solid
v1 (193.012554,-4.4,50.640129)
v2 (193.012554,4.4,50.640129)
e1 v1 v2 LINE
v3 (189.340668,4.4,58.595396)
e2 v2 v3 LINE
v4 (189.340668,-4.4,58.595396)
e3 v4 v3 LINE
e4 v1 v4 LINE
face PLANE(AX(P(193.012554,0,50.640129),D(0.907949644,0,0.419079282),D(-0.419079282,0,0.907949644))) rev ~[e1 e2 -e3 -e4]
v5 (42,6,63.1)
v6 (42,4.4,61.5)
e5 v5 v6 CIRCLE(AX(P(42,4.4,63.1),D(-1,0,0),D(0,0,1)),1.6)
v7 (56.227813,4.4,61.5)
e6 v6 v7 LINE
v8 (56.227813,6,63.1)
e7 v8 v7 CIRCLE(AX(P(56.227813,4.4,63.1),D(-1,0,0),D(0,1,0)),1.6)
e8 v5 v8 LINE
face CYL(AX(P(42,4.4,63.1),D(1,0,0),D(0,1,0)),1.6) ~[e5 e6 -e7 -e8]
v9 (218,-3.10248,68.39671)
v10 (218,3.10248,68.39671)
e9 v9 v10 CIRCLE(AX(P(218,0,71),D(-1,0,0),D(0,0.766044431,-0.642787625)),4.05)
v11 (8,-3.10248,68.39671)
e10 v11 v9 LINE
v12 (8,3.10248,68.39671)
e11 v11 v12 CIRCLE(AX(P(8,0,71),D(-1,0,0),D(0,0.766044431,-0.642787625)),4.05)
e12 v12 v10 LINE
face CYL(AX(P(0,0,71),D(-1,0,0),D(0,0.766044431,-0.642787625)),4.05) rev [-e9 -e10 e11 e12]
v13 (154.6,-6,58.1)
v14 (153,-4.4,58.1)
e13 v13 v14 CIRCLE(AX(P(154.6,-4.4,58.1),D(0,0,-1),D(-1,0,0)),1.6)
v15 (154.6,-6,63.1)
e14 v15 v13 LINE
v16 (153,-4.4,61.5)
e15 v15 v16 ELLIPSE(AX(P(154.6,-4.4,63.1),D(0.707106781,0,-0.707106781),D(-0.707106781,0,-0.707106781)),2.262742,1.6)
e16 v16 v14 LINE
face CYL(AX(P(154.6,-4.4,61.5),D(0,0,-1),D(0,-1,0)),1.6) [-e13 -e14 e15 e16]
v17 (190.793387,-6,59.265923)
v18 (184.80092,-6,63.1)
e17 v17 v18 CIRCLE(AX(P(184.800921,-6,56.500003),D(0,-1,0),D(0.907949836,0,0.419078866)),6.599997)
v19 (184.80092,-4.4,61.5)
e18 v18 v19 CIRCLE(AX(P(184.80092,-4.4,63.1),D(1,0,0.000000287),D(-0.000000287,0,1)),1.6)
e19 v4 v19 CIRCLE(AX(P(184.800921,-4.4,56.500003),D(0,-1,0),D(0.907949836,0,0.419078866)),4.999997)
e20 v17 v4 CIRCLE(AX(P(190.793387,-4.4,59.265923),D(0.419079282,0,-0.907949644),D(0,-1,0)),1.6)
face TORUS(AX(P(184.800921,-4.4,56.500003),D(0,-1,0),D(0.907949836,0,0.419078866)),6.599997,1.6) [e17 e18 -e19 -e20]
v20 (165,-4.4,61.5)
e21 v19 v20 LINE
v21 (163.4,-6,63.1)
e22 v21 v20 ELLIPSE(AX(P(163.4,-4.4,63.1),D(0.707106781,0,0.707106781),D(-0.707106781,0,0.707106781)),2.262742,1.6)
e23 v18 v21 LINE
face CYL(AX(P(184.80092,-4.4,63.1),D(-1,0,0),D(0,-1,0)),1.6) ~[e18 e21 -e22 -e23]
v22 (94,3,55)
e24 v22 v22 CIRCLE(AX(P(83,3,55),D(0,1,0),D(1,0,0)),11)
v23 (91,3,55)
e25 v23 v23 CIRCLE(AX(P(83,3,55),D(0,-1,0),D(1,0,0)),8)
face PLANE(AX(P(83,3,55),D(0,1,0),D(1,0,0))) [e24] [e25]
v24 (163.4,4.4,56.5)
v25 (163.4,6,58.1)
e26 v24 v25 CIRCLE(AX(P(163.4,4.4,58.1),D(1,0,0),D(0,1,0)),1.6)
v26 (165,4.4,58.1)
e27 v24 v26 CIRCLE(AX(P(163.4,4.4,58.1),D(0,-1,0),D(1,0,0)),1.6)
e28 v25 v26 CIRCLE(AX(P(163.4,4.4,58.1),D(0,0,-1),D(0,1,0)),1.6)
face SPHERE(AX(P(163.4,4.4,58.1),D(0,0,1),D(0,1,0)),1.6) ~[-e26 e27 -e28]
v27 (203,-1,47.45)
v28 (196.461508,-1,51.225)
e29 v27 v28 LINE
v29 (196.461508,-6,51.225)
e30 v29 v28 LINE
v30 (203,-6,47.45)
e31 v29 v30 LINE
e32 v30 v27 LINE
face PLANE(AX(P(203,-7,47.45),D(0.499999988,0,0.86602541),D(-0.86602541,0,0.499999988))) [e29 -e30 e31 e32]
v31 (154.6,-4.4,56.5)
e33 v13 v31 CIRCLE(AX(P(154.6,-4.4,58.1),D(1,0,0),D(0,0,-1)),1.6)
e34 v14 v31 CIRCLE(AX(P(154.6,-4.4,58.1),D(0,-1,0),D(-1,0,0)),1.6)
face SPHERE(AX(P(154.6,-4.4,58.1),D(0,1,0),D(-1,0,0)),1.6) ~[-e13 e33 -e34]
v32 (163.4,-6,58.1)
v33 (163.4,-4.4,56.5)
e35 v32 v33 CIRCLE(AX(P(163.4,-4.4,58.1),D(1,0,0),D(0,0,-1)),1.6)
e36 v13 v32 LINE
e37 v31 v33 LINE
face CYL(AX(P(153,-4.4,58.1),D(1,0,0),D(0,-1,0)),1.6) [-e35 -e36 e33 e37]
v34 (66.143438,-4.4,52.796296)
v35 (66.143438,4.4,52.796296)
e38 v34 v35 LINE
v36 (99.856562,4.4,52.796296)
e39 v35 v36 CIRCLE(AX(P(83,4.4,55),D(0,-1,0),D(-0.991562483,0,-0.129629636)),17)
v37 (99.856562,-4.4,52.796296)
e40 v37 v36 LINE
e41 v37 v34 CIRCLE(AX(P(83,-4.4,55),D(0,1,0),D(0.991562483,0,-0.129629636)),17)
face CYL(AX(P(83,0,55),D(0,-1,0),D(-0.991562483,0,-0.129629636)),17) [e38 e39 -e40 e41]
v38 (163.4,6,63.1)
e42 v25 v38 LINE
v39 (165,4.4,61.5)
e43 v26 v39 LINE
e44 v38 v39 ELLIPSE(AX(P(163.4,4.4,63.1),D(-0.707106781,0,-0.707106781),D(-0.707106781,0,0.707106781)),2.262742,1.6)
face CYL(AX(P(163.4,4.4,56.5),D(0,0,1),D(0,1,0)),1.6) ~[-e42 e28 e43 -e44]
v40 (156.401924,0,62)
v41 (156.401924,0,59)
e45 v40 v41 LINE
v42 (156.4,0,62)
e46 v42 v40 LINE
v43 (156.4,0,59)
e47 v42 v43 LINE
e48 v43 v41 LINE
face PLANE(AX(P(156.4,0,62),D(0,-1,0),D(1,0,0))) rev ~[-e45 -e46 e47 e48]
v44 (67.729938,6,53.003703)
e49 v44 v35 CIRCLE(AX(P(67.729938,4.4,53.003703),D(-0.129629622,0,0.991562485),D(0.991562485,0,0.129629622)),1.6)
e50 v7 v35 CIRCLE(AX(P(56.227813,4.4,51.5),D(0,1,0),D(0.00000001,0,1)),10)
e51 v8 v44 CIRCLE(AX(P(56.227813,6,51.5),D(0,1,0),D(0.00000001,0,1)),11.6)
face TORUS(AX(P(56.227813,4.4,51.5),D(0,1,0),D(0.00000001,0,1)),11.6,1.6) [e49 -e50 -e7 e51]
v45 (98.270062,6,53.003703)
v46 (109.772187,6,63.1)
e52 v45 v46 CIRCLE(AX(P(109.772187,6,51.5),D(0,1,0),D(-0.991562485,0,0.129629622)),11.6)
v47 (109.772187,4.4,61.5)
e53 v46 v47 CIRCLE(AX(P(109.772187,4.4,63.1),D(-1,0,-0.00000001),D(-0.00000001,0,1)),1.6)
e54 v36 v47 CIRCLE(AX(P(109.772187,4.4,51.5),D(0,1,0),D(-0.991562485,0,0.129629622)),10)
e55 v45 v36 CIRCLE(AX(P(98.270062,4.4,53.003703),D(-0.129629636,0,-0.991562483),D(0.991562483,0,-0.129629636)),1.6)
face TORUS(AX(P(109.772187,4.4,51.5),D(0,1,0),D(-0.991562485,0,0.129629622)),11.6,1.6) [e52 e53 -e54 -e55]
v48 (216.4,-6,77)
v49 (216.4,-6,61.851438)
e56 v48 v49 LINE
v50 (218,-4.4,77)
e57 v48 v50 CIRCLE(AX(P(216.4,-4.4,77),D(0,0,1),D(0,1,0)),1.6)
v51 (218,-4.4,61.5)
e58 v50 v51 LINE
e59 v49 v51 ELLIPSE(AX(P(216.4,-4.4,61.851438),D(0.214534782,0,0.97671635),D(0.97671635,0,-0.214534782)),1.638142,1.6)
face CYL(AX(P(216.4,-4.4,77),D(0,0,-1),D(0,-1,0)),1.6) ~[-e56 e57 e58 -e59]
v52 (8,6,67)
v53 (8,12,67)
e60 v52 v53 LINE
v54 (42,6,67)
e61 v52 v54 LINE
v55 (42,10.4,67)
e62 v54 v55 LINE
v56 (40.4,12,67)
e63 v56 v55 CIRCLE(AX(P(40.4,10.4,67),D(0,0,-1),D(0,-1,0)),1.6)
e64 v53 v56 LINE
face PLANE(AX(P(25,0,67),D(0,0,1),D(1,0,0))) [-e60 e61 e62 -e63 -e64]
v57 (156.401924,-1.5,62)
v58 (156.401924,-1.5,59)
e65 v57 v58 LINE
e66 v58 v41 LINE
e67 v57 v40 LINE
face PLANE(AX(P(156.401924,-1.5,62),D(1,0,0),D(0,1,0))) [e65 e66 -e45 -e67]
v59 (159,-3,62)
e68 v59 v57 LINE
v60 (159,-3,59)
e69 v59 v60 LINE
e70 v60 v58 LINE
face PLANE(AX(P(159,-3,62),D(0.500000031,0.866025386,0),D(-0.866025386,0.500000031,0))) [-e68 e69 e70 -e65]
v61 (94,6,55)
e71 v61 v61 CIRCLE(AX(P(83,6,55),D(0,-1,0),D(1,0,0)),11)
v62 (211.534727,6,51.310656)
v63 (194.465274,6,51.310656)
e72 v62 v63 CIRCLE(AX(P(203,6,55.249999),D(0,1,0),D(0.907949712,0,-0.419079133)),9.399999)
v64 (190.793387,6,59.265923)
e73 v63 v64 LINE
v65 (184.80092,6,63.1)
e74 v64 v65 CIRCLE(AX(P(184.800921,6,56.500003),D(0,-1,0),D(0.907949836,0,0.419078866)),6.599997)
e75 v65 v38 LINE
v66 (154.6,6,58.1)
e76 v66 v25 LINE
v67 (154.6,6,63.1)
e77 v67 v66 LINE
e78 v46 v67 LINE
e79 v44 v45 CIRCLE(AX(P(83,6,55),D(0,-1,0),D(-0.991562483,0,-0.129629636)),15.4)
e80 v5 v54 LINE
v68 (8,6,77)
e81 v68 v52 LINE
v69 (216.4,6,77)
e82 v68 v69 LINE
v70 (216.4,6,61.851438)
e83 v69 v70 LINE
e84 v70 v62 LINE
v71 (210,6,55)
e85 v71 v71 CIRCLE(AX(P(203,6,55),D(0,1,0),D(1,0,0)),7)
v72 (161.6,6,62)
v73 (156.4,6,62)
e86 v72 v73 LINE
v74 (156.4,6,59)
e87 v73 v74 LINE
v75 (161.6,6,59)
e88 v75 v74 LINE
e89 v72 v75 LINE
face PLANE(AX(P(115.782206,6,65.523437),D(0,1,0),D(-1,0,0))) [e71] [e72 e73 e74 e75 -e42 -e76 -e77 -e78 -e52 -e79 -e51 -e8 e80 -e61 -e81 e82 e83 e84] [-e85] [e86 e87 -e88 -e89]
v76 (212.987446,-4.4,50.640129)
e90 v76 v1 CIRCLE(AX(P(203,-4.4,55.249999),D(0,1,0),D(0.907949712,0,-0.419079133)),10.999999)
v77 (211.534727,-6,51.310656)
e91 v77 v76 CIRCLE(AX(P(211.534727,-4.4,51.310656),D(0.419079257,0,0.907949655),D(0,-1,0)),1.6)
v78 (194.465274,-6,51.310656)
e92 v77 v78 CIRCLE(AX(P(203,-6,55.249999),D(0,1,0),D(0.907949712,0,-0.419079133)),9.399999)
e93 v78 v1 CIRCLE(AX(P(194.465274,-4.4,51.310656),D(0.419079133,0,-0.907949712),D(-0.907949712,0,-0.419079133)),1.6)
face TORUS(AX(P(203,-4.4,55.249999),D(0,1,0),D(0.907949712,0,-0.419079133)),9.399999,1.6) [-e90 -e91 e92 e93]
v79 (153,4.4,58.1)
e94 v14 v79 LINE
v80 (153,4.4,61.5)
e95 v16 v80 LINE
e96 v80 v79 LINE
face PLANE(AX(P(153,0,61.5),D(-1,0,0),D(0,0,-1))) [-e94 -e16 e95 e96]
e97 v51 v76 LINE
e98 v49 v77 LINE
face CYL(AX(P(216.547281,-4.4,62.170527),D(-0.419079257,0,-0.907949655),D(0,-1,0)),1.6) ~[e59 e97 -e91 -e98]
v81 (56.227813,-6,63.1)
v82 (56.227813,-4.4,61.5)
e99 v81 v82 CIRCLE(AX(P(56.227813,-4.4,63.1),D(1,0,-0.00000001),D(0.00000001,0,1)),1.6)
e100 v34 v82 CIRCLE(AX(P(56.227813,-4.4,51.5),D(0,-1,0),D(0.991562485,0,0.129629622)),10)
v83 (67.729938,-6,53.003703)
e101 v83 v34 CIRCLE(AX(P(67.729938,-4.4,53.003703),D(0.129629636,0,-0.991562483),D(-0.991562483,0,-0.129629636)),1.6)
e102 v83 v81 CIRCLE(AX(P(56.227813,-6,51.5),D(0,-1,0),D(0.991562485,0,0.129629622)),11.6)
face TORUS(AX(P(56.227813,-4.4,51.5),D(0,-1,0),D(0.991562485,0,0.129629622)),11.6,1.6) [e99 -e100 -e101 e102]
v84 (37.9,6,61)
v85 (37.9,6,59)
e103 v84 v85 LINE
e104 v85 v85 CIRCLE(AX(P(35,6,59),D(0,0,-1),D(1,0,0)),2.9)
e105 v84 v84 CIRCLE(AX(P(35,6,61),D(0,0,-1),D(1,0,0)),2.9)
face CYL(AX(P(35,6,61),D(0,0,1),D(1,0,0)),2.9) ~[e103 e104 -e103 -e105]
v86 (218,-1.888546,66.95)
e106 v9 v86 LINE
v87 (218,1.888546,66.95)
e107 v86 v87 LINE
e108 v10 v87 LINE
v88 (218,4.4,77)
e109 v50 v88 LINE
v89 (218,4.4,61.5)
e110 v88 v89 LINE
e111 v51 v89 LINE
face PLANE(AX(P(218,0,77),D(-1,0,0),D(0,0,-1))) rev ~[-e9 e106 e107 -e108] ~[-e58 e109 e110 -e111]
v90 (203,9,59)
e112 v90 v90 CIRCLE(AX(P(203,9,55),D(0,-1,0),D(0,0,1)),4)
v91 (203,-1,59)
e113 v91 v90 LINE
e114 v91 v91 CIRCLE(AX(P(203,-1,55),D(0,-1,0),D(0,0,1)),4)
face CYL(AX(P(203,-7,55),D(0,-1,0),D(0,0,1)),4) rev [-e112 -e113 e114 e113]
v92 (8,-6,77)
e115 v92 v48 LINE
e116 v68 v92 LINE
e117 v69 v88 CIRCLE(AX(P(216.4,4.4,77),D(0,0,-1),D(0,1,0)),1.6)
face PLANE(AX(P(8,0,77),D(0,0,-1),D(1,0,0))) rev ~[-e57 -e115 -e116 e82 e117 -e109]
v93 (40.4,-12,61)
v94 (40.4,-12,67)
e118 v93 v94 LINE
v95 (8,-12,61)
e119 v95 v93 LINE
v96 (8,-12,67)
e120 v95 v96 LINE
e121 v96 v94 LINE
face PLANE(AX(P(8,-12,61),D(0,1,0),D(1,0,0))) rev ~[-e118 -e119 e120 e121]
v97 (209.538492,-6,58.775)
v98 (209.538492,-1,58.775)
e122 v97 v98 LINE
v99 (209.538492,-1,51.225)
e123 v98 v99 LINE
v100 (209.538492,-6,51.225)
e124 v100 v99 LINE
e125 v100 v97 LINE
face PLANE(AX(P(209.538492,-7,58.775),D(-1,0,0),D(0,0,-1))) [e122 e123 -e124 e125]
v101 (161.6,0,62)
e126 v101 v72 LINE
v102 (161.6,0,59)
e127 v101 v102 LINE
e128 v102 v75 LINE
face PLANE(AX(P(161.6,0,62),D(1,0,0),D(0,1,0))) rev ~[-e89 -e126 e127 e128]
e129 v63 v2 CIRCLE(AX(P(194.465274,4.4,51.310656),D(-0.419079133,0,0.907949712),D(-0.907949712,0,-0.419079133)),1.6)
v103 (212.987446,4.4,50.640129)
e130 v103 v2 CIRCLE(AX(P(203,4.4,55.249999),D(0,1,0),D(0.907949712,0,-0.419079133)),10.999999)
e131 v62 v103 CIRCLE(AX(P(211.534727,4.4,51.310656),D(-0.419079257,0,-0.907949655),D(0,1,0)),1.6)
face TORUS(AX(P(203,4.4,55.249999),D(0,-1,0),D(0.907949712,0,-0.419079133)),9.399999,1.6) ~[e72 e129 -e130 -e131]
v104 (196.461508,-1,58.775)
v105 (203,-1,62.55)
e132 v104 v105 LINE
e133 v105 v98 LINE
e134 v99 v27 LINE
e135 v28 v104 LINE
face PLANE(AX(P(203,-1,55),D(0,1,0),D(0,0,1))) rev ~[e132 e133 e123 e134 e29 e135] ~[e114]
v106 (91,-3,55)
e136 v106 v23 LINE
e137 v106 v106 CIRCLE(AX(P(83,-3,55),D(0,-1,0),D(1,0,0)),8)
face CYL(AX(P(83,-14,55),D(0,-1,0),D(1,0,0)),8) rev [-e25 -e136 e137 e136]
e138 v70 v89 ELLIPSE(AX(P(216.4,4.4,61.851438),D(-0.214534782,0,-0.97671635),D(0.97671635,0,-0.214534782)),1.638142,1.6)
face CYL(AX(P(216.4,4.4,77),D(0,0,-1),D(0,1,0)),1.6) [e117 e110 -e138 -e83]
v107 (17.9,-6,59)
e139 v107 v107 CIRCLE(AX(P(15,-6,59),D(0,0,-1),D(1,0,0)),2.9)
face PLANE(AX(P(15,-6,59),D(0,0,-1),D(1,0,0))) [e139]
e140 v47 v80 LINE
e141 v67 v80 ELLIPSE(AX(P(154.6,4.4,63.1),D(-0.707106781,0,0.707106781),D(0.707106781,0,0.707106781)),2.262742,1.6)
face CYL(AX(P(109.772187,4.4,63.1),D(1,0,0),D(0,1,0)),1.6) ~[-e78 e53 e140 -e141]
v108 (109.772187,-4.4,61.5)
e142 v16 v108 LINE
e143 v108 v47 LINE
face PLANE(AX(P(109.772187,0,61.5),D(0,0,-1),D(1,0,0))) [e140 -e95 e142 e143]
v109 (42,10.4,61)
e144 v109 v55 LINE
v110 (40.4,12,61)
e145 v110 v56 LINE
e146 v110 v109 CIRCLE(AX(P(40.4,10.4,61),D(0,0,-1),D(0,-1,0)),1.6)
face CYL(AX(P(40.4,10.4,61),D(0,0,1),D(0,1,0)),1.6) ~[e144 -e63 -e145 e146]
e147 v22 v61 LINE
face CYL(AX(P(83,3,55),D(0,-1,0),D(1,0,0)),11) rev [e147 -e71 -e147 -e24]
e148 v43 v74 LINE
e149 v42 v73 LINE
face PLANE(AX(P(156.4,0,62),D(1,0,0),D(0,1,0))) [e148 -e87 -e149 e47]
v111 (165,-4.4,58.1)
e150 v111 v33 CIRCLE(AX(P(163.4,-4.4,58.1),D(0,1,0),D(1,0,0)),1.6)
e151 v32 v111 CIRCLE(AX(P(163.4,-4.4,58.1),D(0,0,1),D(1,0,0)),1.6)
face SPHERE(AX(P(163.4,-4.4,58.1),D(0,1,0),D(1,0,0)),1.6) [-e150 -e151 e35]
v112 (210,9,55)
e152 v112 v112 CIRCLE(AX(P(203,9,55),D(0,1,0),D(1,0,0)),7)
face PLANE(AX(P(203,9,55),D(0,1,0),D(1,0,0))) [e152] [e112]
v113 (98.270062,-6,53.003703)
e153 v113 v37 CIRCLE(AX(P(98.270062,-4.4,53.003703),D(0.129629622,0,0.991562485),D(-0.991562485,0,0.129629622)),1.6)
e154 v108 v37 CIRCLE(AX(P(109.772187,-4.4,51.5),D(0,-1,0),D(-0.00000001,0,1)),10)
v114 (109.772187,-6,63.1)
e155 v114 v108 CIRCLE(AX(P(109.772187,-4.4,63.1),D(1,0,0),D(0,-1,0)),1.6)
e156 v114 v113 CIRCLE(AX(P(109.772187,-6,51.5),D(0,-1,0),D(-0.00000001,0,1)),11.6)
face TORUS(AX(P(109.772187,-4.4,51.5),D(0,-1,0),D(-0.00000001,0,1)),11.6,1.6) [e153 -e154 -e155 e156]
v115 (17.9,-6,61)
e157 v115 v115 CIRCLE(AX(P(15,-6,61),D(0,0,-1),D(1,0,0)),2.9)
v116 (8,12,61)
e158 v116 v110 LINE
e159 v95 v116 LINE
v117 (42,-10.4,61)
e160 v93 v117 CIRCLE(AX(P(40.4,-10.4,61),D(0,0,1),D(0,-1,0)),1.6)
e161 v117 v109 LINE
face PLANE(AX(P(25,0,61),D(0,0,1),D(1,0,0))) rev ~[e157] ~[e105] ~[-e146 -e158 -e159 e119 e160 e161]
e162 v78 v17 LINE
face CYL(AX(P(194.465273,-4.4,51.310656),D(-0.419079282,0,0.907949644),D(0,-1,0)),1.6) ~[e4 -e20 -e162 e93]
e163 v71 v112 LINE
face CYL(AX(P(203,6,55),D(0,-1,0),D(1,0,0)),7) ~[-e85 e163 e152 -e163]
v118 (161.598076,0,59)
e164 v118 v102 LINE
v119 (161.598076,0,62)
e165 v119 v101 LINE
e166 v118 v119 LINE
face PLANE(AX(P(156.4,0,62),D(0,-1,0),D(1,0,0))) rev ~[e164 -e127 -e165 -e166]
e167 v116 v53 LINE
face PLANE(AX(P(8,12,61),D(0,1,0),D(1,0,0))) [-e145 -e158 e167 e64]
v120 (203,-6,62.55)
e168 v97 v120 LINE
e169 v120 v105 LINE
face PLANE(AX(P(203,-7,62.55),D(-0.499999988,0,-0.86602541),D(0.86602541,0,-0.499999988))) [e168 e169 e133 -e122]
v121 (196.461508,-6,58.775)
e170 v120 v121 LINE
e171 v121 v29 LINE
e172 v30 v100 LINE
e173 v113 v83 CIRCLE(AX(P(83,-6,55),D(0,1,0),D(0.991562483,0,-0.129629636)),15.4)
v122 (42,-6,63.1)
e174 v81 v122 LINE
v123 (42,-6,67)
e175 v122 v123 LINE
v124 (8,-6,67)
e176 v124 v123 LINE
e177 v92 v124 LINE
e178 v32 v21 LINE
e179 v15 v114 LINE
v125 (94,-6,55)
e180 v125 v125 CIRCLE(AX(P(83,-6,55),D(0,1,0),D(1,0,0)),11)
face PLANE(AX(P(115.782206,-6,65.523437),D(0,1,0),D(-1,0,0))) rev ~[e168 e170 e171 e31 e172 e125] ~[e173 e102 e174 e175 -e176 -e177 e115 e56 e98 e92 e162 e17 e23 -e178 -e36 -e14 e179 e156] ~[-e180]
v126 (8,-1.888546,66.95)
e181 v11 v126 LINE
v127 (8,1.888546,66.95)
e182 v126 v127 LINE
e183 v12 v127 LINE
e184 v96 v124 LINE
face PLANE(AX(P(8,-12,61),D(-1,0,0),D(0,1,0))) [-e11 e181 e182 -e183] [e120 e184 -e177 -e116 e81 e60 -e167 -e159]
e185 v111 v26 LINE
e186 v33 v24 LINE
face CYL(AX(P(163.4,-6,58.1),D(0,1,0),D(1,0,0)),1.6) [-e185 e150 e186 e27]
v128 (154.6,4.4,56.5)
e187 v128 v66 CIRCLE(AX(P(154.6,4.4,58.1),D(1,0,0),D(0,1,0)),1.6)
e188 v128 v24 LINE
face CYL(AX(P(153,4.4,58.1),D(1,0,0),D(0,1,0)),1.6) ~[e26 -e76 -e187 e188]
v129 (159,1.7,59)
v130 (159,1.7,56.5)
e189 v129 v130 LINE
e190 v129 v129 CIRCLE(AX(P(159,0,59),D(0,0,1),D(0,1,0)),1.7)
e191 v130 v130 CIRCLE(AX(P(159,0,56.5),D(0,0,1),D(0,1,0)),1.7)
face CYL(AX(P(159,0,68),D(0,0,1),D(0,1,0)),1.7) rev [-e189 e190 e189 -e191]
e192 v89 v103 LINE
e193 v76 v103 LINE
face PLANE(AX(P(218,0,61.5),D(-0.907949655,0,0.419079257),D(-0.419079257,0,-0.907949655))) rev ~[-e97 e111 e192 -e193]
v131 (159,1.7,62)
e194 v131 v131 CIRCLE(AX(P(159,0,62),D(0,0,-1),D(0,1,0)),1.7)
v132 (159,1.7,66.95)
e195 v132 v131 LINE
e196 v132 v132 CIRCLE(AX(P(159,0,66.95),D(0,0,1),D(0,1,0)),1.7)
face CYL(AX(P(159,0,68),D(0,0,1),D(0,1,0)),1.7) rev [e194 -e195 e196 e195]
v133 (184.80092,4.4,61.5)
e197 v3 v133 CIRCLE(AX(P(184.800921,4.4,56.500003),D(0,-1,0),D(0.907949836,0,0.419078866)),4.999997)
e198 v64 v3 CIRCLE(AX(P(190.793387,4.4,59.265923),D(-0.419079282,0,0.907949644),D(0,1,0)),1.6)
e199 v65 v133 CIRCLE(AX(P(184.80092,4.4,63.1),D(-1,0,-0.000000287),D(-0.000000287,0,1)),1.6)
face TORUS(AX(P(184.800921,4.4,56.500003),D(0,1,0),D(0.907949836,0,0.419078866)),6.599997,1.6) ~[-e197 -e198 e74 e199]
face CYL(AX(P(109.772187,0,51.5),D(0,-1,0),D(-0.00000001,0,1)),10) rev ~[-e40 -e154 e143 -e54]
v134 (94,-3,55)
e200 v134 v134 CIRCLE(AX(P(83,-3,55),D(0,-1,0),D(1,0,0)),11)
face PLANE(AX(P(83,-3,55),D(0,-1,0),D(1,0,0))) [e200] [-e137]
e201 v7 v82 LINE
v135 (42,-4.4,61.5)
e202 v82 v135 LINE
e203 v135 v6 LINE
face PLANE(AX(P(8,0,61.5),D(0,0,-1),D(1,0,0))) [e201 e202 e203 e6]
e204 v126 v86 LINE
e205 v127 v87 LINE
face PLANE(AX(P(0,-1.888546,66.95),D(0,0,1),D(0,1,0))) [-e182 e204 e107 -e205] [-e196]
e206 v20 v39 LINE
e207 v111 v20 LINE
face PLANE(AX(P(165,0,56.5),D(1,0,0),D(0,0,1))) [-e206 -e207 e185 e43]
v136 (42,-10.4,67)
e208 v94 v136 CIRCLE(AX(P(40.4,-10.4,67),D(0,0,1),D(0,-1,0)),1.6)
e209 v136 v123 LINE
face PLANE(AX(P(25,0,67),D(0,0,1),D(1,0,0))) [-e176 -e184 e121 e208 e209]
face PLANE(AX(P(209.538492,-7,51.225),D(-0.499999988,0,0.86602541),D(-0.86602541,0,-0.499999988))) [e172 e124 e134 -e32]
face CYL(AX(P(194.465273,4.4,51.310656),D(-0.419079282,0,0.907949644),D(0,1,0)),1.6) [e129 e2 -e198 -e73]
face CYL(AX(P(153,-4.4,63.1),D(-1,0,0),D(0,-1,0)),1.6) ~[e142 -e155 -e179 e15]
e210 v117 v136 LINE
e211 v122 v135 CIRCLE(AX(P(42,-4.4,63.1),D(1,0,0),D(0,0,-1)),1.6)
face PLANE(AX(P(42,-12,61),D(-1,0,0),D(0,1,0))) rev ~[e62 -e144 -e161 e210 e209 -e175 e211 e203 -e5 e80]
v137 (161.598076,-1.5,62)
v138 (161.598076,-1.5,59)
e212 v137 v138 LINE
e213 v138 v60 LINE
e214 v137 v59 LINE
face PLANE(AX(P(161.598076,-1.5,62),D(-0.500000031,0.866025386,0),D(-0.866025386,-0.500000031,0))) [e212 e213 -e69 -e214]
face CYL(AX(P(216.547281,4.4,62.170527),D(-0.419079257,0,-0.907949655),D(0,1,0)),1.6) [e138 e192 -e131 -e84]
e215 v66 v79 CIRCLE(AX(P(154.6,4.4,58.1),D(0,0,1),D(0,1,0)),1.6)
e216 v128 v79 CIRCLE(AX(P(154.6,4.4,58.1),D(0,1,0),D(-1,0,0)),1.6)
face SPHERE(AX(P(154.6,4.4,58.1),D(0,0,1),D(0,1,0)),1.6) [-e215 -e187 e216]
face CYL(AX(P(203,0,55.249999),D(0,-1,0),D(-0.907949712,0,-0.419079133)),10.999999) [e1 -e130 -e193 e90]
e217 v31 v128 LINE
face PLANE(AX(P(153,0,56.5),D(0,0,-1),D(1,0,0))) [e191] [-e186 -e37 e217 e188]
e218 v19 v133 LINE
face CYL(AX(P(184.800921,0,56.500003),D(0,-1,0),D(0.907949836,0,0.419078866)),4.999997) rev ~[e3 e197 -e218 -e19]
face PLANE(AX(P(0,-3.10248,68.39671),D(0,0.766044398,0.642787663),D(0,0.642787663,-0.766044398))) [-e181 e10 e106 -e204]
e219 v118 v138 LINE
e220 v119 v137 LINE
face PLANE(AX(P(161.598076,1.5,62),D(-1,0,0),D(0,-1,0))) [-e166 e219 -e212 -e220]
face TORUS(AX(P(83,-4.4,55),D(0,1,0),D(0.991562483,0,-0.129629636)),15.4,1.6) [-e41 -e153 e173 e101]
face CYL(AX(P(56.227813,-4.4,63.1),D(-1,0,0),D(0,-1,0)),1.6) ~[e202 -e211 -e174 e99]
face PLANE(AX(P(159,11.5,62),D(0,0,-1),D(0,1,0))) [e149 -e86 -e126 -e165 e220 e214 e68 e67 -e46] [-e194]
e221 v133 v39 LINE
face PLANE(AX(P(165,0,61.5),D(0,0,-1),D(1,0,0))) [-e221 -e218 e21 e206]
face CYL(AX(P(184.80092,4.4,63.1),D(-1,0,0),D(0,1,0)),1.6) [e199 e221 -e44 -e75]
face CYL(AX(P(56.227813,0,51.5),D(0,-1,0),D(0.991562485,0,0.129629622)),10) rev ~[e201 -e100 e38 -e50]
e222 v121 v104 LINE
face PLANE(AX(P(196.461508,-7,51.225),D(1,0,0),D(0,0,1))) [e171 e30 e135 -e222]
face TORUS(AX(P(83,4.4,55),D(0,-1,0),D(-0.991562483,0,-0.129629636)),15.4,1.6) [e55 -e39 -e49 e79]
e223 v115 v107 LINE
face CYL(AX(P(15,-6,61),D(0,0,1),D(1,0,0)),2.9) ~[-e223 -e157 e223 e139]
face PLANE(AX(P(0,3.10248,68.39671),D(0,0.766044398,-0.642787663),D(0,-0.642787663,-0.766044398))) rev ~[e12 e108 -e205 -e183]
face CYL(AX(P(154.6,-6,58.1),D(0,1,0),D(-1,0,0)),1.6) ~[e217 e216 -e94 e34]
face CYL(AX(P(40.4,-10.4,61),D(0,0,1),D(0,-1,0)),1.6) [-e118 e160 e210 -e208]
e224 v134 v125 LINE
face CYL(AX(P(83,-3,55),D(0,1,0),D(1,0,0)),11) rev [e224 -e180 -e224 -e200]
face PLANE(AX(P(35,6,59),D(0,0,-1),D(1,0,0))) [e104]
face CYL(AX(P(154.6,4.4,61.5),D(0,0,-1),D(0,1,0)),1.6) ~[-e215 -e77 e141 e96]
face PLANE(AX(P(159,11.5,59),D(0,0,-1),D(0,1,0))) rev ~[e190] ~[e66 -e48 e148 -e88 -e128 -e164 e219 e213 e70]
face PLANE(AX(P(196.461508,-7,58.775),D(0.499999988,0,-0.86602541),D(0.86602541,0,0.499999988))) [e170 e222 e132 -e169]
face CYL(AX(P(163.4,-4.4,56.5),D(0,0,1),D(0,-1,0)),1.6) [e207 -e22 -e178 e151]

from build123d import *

# Parameters (mm, degrees)
CYLINDER074_R             = 11
CYLINDER074_DEPTH         = 10
CYLINDER075_R             = 8
CYLINDER075_DEPTH         = 28
CYLINDER076_R             = 11
CYLINDER076_DEPTH         = 10
CYLINDER083_R             = 1.7
CYLINDER083_DEPTH         = 21
BOX019_W                  = 23
BOX019_H                  = 5.2
BOX019_DEPTH              = 3
PRISM012_DEPTH            = 3
FUSION068_ROLL_ANGLE      = 180
FUSION068_PLACEMENT_ANGLE = 90
EXTRUDE034_DEPTH          = 275
CYLINDER085_R             = 4
CYLINDER085_DEPTH         = 70
PRISM013_DEPTH            = 6
FUSION069_PITCH_ANGLE     = -90
FUSION069_PLACEMENT_ANGLE = -90
CYLINDER073_R             = 11
CYLINDER073_DEPTH         = 10
BOX018_W                  = 34
BOX018_H                  = 24
BOX018_DEPTH              = 6
CYLINDER081_R             = 2.9
CYLINDER081_DEPTH         = 2
CYLINDER082_R             = 2.9
CYLINDER082_DEPTH         = 2
CYLINDER084_R             = 7
CYLINDER084_DEPTH         = 3
EXTRUDE032_DEPTH          = 6
FILLET005_R               = 1.6


with BuildPart() as cilindro074:
    # Cylinder074 → Cylinder074 (new body)
    with BuildSketch(Plane(origin=(83, 3, 55), x_dir=(1, 0, 0), z_dir=(0, 1, 0))):
        Circle(CYLINDER074_R)
    extrude(amount=CYLINDER074_DEPTH)


with BuildPart() as cilindro075:
    # Cylinder075 → Cylinder075 (new body)
    with BuildSketch(Plane(origin=(83, -14, 55), x_dir=(1, 0, 0), z_dir=(0, 1, 0))):
        Circle(CYLINDER075_R)
    extrude(amount=CYLINDER075_DEPTH)


with BuildPart() as cilindro076:
    # Cylinder076 → Cylinder076 (new body)
    with BuildSketch(Plane(origin=(83, -3, 55), x_dir=(1, 0, 0), z_dir=(0, -1, 0))):
        Circle(CYLINDER076_R)
    extrude(amount=CYLINDER076_DEPTH)


with BuildPart() as cilindro083:
    # Cylinder083 → Cylinder083 (new body)
    with BuildSketch(Plane.XY.offset(-6)):
        Circle(CYLINDER083_R)
    extrude(amount=CYLINDER083_DEPTH)


with BuildPart() as cubo018:
    # Box019 → Box019 (new body)
    with BuildSketch(Plane(origin=(0, -2.6, 0), x_dir=(1, 0, 0), z_dir=(0, 0, 1))):
        with Locations((11.5, 2.6)):
            Rectangle(BOX019_W, BOX019_H)
    extrude(amount=BOX019_DEPTH)


with BuildPart() as hueco_tornillo004:
    # Prism012 → Prism012 (new body)
    with BuildSketch(Plane.XY):
        Polygon((3, 0), (1.5, 2.598076), (-1.5, 2.598076), (-3, 0), (-1.5, -2.598076), (1.5, -2.598076), align=None)
    extrude(amount=PRISM012_DEPTH)

    # Fusion068: union Cilindro083, Cubo018
    add(cilindro083.part)
    add(cubo018.part)


with BuildPart() as hueco_tornillo004_1:
    # Fusion068 roll: moved
    add(hueco_tornillo004.part.rotate(Axis((0, 0, 0), (1, 0, 0)), FUSION068_ROLL_ANGLE))


with BuildPart() as hueco_tornillo004_2:
    # Fusion068 placement: moved
    add(hueco_tornillo004_1.part.moved(Location((159, 0, 62))).rotate(Axis((159, 0, 62), (0, 0, 1)), FUSION068_PLACEMENT_ANGLE))


with BuildPart() as extrude034:
    # Sketch026 → Extrude034 (new body)
    with BuildSketch(Plane.YZ):
        with BuildLine():
            ThreePointArc((3.10248, -2.60329), (0, 4.05), (-3.10248, -2.60329))
            Line((-3.10248, -2.60329), (-1.888546, -4.05))
            Line((-1.888546, -4.05), (0, -4.05))
            Line((0, -4.05), (1.888546, -4.05))
            Line((3.10248, -2.60329), (1.888546, -4.05))
        make_face()
    extrude(amount=EXTRUDE034_DEPTH)


with BuildPart() as extrude034_1:
    # Extrude034 placement: moved
    add(extrude034.part.moved(Location((0, 0, 71))))


with BuildPart() as cilindro085:
    # Cylinder085 → Cylinder085 (new body)
    with BuildSketch(Plane.XY):
        Circle(CYLINDER085_R)
    extrude(amount=CYLINDER085_DEPTH)


with BuildPart() as tornillo_m010:
    # Prism013 → Prism013 (new body)
    with BuildSketch(Plane.XY):
        Polygon((7.55, 0), (3.775, 6.538492), (-3.775, 6.538492), (-7.55, 0), (-3.775, -6.538492), (3.775, -6.538492), align=None)
    extrude(amount=PRISM013_DEPTH)

    # Fusion069: union Cilindro085
    add(cilindro085.part)


with BuildPart() as tornillo_m010_1:
    # Fusion069 pitch: moved
    add(tornillo_m010.part.rotate(Axis((0, 0, 0), (0, 1, 0)), FUSION069_PITCH_ANGLE))


with BuildPart() as tornillo_m010_2:
    # Fusion069 placement: moved
    add(tornillo_m010_1.part.moved(Location((203, -7, 55))).rotate(Axis((203, -7, 55), (0, 0, 1)), FUSION069_PLACEMENT_ANGLE))


with BuildPart() as fusion065:
    # Cylinder073 → Cylinder073 (new body)
    with BuildSketch(Plane(origin=(83, -3, 55), x_dir=(1, 0, 0), z_dir=(0, -1, 0))):
        Circle(CYLINDER073_R)
    extrude(amount=CYLINDER073_DEPTH)

    # Fusion065: union Cilindro074, Cilindro075, Cilindro076, hueco_tornillo004, Extrude034, Tornillo_M010
    add(cilindro074.part)
    add(cilindro075.part)
    add(cilindro076.part)
    add(hueco_tornillo004_2.part)
    add(extrude034_1.part)
    add(tornillo_m010_2.part)


with BuildPart() as cubo017:
    # Box018 → Box018 (new body)
    with BuildSketch(Plane(origin=(8, -12, 61), x_dir=(1, 0, 0), z_dir=(0, 0, 1))):
        with Locations((17, 12)):
            Rectangle(BOX018_W, BOX018_H)
    extrude(amount=BOX018_DEPTH)


with BuildPart() as cilindro081:
    # Cylinder081 → Cylinder081 (new body)
    with BuildSketch(Plane(origin=(35, 6, 61), x_dir=(1, 0, 0), z_dir=(0, 0, -1))):
        Circle(CYLINDER081_R)
    extrude(amount=CYLINDER081_DEPTH)


with BuildPart() as cilindro082:
    # Cylinder082 → Cylinder082 (new body)
    with BuildSketch(Plane(origin=(15, -6, 61), x_dir=(1, 0, 0), z_dir=(0, 0, -1))):
        Circle(CYLINDER082_R)
    extrude(amount=CYLINDER082_DEPTH)


with BuildPart() as cilindro084:
    # Cylinder084 → Cylinder084 (new body)
    with BuildSketch(Plane(origin=(203, 6, 55), x_dir=(1, 0, 0), z_dir=(0, 1, 0))):
        Circle(CYLINDER084_R)
    extrude(amount=CYLINDER084_DEPTH)


with BuildPart() as fillet005:
    # Sketch024 → Extrude032 (new body, symmetric)
    with BuildSketch(Plane.XZ):
        with BuildLine():
            Line((8, 77), (218, 77))
            Line((218, 77), (218, 61.5))
            Line((218, 61.5), (212.987446, 50.640129))
            ThreePointArc((193.012554, 50.640129), (203, 44.25), (212.987446, 50.640129))
            Line((193.012554, 50.640129), (189.340668, 58.595396))
            ThreePointArc((189.340668, 58.595396), (187.495639, 60.711709), (184.80092, 61.5))
            Line((165, 61.5), (184.80092, 61.5))
            Line((165, 56.5), (165, 61.5))
            Line((153, 56.5), (165, 56.5))
            Line((153, 61.5), (153, 56.5))
            Line((109.772187, 61.5), (153, 61.5))
            ThreePointArc((109.772187, 61.5), (103.17533, 59.015416), (99.856562, 52.796296))
            ThreePointArc((66.143438, 52.796296), (83, 38), (99.856562, 52.796296))
            ThreePointArc((66.143438, 52.796296), (62.82467, 59.015416), (56.227813, 61.5))
            Line((8, 61.5), (56.227813, 61.5))
            Line((8, 77), (8, 61.5))
        make_face()
    extrude(amount=EXTRUDE032_DEPTH, both=True)

    # Fusion066: union Cubo017, Cilindro081, Cilindro082, Cilindro084
    add(cubo017.part)
    add(cilindro081.part)
    add(cilindro082.part)
    add(cilindro084.part)

    # Cut024: cut Fusion065
    add(fusion065.part, mode=Mode.SUBTRACT)

    # Fillet005
    fillet005_edges = [fillet005.edges().sort_by_distance(p)[0] for p in [
        (218, 6, 69.25),
        (215.493723, 6, 56.070064),
        (49.113906, 6, 61.5),
        (203, 6, 44.25),
        (62.82467, 6, 59.015416),
        (191.176611, 6, 54.617762),
        (83, 6, 38),
        (187.495639, 6, 60.711709),
        (103.17533, 6, 59.015416),
        (174.90046, 6, 61.5),
        (131.386094, 6, 61.5),
        (165, 6, 59),
        (153, 6, 59),
        (159, 6, 56.5),
        (218, -6, 69.25),
        (42, 12, 64),
        (42, -12, 64),
        (215.493723, -6, 56.070064),
        (203, -6, 44.25),
        (62.82467, -6, 59.015416),
        (191.176611, -6, 54.617762),
        (83, -6, 38),
        (187.495639, -6, 60.711709),
        (103.17533, -6, 59.015416),
        (174.90046, -6, 61.5),
        (131.386094, -6, 61.5),
        (165, 0, 56.5),
        (165, -6, 59),
        (153, 0, 56.5),
        (153, -6, 59),
        (159, -6, 56.5),
    ]]
    fillet(fillet005_edges, radius=FILLET005_R)


solid = fillet005.part
